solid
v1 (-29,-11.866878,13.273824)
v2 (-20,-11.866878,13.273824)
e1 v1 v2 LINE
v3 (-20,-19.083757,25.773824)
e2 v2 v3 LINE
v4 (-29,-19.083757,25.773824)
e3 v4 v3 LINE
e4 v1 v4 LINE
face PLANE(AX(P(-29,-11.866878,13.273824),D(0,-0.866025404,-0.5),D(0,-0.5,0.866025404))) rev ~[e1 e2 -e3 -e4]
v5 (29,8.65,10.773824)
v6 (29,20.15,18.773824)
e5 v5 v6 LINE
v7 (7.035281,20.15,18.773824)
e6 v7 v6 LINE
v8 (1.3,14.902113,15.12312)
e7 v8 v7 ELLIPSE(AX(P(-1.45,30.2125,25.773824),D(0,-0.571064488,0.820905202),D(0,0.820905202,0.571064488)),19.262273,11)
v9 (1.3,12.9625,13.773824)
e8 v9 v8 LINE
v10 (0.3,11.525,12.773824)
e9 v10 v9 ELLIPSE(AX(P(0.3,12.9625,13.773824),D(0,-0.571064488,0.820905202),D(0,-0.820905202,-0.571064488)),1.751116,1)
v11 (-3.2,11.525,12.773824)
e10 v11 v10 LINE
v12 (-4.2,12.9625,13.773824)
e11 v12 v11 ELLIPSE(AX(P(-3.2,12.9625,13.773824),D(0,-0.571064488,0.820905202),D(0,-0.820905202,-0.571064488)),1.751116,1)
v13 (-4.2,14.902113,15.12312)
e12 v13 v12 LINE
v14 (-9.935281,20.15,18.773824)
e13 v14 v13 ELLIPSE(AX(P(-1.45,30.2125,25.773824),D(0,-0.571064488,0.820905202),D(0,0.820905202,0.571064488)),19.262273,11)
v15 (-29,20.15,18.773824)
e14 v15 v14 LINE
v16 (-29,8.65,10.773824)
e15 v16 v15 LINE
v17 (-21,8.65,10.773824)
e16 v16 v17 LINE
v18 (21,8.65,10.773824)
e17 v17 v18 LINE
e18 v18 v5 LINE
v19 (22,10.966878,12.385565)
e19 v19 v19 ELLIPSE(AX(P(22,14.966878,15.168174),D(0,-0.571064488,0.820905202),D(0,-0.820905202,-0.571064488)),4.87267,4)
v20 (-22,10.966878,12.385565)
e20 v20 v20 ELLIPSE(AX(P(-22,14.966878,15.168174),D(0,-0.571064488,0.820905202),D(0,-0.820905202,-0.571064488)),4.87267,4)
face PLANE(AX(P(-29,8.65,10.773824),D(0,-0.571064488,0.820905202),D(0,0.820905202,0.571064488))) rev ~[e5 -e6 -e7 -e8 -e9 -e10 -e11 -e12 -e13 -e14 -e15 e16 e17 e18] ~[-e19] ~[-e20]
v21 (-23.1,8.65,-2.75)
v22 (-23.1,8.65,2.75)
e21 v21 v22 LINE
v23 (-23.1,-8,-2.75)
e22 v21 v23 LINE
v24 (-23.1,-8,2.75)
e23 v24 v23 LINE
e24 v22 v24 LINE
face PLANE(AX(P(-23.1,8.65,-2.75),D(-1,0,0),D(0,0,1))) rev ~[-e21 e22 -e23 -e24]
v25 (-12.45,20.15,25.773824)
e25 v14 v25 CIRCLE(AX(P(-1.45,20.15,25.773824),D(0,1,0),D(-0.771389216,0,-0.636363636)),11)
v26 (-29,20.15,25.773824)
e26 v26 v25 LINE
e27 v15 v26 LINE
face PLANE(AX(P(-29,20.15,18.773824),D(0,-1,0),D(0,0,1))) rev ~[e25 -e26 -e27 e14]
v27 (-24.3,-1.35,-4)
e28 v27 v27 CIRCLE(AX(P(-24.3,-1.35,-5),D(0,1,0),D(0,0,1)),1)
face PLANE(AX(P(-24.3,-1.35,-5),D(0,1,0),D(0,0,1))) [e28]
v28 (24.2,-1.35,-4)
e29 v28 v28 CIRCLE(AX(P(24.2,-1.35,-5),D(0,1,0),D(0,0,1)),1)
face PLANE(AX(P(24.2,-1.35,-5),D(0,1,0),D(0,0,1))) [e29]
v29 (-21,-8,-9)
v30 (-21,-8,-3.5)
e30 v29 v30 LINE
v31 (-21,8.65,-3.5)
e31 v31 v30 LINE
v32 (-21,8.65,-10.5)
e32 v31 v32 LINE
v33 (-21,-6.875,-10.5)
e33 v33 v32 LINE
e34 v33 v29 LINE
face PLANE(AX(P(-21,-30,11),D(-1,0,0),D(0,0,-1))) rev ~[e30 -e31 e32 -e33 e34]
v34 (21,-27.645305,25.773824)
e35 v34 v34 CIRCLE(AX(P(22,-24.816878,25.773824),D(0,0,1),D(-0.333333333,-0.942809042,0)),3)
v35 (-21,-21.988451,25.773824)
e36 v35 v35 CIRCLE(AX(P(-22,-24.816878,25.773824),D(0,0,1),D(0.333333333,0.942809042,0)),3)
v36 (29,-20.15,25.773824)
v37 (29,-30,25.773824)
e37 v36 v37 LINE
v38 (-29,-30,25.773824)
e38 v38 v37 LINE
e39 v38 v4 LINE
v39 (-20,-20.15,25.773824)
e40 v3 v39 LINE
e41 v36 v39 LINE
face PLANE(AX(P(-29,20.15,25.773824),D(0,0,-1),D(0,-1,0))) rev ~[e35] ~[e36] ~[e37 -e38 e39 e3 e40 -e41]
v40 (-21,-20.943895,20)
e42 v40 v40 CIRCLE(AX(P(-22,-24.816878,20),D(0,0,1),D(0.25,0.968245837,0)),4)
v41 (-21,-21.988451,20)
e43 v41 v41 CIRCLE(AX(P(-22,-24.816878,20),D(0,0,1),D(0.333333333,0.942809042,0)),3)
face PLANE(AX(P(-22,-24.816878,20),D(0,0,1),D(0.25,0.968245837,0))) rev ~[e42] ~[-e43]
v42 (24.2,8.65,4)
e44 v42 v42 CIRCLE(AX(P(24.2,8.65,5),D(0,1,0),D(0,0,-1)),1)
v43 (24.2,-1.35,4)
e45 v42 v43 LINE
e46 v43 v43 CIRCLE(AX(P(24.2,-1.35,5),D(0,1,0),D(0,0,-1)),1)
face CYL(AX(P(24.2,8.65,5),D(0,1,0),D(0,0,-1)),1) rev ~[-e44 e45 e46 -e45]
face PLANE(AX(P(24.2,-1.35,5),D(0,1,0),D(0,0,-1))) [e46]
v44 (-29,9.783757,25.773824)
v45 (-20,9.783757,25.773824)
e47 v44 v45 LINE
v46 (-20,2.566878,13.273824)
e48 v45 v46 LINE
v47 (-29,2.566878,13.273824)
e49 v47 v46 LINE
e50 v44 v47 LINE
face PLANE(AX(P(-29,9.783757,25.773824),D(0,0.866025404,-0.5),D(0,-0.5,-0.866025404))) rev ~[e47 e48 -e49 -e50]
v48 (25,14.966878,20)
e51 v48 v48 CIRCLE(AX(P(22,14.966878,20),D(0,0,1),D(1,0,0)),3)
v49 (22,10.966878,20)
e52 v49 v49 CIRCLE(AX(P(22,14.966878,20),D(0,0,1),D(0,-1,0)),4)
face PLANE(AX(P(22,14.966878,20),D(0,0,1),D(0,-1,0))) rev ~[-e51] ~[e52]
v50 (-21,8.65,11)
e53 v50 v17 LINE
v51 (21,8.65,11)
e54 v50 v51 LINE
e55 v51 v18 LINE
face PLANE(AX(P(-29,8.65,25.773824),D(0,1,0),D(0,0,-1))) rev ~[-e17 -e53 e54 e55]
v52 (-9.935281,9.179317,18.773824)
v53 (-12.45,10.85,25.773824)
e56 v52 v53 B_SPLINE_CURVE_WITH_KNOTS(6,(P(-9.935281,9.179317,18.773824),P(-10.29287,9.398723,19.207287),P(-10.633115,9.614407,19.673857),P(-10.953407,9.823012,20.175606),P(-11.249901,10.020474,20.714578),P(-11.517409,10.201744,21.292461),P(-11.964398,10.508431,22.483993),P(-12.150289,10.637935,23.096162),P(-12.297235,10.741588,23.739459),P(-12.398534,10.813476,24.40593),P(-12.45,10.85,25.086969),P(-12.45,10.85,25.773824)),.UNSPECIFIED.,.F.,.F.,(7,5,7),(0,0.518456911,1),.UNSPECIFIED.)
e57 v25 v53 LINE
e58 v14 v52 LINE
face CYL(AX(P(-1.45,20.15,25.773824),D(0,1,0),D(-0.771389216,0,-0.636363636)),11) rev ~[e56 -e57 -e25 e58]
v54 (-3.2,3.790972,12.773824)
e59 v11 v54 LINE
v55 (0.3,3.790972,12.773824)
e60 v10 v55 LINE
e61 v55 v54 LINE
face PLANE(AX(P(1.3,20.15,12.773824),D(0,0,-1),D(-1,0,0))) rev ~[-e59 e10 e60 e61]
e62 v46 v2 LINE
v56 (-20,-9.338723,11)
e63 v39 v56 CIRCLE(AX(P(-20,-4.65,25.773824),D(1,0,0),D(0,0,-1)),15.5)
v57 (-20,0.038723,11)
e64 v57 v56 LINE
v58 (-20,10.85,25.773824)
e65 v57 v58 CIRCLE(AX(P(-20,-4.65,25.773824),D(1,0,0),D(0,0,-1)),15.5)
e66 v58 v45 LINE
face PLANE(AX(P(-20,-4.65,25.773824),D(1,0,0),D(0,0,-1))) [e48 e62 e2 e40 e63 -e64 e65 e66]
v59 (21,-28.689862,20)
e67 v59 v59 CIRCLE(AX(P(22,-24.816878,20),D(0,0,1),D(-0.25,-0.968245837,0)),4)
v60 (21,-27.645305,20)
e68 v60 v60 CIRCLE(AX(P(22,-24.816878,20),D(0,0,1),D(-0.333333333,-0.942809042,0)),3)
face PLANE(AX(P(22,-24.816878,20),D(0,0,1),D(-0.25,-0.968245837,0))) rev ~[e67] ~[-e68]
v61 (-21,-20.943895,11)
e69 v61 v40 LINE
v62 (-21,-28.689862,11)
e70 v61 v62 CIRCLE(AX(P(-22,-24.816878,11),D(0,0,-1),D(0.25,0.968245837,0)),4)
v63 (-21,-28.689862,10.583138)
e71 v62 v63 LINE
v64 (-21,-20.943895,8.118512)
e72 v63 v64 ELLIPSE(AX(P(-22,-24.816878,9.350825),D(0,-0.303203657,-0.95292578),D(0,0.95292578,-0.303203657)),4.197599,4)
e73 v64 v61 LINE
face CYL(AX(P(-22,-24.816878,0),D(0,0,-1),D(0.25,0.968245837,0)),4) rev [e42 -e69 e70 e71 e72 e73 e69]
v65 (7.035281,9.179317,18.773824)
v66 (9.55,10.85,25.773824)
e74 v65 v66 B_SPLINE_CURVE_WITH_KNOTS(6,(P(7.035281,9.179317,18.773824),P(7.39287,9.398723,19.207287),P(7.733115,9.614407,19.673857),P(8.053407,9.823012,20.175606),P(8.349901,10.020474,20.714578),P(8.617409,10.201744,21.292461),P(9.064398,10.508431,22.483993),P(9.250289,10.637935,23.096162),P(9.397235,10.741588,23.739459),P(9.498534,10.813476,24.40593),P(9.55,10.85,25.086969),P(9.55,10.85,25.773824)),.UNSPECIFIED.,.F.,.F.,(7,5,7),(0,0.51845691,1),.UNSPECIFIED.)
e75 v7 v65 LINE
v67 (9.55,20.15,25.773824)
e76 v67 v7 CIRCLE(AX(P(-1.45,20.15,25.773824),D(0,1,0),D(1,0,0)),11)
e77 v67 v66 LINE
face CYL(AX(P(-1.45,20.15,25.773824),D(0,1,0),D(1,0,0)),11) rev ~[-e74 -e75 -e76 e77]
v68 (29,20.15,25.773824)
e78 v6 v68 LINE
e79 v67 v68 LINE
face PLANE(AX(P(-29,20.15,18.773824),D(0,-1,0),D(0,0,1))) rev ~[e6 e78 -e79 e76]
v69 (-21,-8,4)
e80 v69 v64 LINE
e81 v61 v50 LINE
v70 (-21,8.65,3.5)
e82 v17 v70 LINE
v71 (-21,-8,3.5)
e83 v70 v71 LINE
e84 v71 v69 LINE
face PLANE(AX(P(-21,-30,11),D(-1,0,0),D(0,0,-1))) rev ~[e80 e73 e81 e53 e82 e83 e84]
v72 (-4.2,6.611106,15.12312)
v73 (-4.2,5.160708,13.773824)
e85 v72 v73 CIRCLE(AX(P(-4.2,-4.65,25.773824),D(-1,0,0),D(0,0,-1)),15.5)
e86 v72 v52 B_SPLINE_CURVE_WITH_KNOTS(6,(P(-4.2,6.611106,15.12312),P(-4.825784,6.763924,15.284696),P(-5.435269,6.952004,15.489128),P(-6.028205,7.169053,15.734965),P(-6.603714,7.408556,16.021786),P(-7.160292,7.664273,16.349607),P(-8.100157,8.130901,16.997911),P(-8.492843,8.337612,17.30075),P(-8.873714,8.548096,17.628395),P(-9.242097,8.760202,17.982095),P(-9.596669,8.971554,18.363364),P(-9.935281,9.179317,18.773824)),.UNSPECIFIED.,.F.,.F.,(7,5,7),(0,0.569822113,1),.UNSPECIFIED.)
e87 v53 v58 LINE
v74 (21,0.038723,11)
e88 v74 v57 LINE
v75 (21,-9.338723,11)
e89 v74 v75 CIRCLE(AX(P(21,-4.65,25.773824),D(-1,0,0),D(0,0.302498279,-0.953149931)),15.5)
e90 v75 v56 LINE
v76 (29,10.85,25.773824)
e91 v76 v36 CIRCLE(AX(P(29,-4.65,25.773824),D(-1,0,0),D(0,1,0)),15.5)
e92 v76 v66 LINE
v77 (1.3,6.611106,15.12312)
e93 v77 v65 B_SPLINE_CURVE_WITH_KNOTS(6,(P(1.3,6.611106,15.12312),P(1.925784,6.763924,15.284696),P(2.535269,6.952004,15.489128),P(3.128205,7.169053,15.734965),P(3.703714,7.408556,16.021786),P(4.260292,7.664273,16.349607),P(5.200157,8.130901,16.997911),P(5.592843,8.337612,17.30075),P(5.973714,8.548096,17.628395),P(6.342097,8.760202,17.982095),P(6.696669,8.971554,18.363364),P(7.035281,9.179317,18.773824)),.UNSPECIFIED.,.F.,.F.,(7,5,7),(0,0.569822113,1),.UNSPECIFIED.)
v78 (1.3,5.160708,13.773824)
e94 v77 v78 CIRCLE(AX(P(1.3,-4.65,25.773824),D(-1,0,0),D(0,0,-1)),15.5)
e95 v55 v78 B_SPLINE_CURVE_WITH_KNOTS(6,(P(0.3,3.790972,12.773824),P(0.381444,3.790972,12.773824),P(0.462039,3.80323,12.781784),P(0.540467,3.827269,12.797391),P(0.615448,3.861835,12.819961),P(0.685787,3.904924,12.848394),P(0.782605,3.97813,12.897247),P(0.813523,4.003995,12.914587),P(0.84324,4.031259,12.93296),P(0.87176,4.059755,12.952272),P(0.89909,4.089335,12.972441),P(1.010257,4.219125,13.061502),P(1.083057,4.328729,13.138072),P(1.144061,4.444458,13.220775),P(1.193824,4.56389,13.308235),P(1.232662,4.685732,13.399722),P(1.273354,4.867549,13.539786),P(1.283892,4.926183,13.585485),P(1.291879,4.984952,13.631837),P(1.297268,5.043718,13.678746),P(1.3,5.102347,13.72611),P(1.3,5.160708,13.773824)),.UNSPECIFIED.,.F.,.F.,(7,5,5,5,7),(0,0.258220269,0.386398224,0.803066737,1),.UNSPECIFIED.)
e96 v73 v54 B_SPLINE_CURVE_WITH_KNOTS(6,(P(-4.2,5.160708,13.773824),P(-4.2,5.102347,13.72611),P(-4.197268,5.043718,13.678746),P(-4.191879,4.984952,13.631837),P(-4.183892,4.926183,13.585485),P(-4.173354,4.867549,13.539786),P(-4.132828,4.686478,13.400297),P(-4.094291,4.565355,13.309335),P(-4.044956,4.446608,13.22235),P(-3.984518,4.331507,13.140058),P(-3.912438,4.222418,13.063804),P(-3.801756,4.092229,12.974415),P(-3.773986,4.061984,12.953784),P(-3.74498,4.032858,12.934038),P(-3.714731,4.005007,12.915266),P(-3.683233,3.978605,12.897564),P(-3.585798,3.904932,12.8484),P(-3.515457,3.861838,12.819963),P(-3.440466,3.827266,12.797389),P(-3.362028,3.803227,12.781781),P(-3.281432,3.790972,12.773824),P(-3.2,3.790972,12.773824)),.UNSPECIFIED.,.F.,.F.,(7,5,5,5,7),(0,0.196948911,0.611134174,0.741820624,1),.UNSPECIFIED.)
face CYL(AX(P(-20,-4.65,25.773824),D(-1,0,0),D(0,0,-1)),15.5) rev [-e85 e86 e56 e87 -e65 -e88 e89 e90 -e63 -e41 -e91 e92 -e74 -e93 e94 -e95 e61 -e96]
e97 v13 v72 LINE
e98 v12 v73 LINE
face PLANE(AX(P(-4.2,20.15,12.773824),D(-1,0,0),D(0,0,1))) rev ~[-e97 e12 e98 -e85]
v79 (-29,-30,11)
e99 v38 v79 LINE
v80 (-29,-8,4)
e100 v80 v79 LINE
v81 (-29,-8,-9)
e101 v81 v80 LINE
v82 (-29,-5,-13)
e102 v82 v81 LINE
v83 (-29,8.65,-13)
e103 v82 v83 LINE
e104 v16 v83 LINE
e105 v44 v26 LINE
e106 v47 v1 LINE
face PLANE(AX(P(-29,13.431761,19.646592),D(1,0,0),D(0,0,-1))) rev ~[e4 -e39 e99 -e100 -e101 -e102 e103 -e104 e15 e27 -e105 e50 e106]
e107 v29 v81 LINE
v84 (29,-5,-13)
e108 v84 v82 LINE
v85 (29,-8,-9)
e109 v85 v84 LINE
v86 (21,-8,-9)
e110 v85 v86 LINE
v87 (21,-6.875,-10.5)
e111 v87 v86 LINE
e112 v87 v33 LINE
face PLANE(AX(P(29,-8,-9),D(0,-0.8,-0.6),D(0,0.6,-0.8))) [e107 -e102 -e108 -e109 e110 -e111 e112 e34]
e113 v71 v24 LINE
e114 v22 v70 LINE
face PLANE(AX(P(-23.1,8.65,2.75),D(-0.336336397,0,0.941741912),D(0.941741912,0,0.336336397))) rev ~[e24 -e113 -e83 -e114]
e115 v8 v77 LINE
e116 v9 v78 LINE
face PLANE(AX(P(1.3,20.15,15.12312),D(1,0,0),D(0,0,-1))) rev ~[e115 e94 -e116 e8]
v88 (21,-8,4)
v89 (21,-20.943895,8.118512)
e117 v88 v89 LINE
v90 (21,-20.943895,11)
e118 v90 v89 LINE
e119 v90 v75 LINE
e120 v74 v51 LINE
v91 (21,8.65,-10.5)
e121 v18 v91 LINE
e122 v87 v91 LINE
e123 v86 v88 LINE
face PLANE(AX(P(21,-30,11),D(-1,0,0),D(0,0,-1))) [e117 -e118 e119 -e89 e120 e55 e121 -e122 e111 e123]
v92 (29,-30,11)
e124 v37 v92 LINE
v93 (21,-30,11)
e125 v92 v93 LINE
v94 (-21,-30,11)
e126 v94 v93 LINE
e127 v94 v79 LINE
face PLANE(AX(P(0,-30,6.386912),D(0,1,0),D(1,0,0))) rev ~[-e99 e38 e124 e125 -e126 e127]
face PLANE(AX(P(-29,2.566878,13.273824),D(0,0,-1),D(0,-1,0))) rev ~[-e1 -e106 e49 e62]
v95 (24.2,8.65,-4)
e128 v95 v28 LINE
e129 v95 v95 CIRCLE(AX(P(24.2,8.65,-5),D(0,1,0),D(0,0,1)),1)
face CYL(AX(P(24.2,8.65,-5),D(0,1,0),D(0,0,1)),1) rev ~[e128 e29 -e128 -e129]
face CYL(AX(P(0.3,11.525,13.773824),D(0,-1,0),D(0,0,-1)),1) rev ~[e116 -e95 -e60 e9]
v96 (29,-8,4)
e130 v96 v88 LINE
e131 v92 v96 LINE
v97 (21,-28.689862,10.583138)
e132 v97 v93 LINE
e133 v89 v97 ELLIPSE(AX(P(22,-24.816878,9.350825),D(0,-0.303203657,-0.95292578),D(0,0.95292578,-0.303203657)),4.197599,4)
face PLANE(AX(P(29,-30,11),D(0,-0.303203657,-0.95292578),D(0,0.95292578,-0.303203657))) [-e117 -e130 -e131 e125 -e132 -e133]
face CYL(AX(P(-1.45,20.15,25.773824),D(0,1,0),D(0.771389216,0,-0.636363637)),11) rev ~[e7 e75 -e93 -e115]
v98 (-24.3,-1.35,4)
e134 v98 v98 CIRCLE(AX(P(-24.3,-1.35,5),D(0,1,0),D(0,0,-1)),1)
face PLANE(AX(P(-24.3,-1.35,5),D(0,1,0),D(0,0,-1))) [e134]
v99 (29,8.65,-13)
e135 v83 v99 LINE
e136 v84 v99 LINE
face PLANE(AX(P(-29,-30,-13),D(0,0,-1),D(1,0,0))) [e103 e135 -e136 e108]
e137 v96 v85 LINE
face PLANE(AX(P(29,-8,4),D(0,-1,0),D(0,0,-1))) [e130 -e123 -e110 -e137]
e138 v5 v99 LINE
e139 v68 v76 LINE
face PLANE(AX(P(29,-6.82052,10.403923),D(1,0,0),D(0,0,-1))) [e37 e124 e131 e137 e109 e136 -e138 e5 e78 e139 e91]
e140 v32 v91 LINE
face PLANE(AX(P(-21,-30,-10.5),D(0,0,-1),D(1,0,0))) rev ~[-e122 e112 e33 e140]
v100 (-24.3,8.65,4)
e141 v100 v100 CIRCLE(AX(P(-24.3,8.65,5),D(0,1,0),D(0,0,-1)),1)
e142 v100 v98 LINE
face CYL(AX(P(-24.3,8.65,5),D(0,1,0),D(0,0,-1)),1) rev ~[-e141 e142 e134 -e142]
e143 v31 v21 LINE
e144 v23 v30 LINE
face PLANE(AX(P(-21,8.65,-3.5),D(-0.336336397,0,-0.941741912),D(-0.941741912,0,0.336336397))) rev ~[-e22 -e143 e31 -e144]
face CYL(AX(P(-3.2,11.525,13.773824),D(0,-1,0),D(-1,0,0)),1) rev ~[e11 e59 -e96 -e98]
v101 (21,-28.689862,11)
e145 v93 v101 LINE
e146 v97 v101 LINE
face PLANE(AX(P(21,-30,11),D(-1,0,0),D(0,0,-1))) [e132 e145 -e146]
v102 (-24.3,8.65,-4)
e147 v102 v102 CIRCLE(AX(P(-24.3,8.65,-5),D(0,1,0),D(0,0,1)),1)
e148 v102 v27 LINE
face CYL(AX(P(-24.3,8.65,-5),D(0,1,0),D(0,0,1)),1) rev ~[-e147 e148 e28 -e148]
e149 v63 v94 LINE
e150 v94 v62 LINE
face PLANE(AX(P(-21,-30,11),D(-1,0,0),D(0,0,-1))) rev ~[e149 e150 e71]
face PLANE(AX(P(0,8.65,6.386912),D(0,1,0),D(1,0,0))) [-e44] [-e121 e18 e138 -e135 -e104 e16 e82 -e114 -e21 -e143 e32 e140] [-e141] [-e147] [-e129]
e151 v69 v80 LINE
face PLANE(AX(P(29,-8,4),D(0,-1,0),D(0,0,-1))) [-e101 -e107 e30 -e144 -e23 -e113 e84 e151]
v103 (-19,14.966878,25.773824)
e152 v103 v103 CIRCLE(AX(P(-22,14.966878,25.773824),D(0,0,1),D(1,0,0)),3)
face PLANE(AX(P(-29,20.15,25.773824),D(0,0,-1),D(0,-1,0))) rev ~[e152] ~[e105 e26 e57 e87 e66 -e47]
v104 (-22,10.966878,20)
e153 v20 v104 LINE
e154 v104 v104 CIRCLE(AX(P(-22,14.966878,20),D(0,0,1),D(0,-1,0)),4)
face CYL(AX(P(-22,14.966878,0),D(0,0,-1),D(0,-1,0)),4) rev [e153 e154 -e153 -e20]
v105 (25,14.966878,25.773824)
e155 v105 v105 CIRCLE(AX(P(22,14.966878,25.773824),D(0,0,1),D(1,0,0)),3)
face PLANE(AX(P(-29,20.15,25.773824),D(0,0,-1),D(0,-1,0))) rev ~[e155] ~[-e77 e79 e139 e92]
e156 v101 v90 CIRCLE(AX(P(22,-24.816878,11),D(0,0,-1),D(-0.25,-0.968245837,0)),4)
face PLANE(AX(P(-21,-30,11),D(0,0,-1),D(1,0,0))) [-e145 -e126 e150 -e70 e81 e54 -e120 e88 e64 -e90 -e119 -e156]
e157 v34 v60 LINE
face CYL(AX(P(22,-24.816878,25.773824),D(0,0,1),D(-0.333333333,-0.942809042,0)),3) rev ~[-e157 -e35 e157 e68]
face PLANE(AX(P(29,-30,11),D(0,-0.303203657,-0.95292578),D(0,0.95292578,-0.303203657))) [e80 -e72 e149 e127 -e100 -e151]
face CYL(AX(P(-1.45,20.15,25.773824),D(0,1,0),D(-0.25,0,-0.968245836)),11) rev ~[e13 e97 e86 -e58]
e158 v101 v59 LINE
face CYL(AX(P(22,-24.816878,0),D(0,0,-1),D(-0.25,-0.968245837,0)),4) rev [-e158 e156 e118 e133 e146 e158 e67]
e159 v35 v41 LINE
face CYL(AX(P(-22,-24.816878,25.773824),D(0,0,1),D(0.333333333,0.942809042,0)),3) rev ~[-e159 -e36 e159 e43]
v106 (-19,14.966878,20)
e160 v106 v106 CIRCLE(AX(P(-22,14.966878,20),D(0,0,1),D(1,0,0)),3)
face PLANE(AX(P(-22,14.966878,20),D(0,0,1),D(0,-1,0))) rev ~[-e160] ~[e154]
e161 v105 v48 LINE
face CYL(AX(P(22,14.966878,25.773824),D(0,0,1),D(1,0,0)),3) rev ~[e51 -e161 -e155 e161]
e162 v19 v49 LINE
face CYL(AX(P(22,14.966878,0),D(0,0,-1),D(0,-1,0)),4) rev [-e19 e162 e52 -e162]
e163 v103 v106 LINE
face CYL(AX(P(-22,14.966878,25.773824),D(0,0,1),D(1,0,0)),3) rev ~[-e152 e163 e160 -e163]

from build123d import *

# Parameters (mm, degrees)
SKETCH1_W               = 58
SKETCH1_H               = 38.77382393
SKETCH1_W_2             = 42
SKETCH1_H_2             = 21.5
BOSS_EXTRUDE2_DEPTH     = 38.65
CUT_EXTRUDE3_DEPTH      = 71.201780604
BOSS_EXTRUDE3_REACH     = 72.202
CUT_EXTRUDE5_DEPTH      = 71.201780604
SKETCH10_W              = 5.5
SKETCH10_H              = 7
CUT_EXTRUDE6_DEPTH      = 17
FILLET1_R               = 1
CUT_EXTRUDE7_DEPTH      = 50.043755974
CUT_EXTRUDE7_DEPTH_BACK = 20
SKETCH11_R              = 15.5
SKETCH12_R              = 3
CUT_EXTRUDE8_DEPTH      = 20
SKETCH13_R              = 4
CUT_EXTRUDE9_DEPTH      = 20
SKETCH15_R              = 1
CUT_EXTRUDE10_DEPTH     = 10
CUT_EXTRUDE11_DEPTH     = 55.764153522


with BuildPart() as part:
    # Sketch1 → Boss-Extrude2 (new body)
    with BuildSketch(Plane(origin=(0, -30, 0), x_dir=(1, 0, 0), z_dir=(0, 1, 0))):
        with Locations((0, -6.386911965)):
            Rectangle(SKETCH1_W, SKETCH1_H)
        with Locations((0, -0.25)):
            Rectangle(SKETCH1_W_2, SKETCH1_H_2, mode=Mode.SUBTRACT)
    extrude(amount=BOSS_EXTRUDE2_DEPTH)

    # Sketch6 → Cut-Extrude3 (cut, through all)
    with BuildSketch(Plane(origin=(29, 0, 0), x_dir=(0, 0, -1), z_dir=(1, 0, 0))):
        Polygon((-11, -30), (-4, -8), (9, -8), (13, -5), (13, -30), align=None)
    extrude(amount=-CUT_EXTRUDE3_DEPTH, mode=Mode.SUBTRACT)

    # Boss-Extrude3: up to this face of the body (flat: up to its plane)
    boss_extrude3_end = Plane(part.part.faces().sort_by_distance((29, -6.820520007, 10.403923083))[0])
    # Sketch9 → Boss-Extrude3 (add, up to the picked face)
    with BuildSketch(Plane.ZY.offset(29), mode=Mode.PRIVATE) as boss_extrude3_sk1:
        Polygon((10.77382393, 8.65), (18.77382393, 20.15), (25.77382393, 20.15), (25.77382393, 8.65), align=None)
    boss_extrude3_tool1 = split(extrude(boss_extrude3_sk1.sketch, amount=-BOSS_EXTRUDE3_REACH, mode=Mode.PRIVATE), bisect_by=boss_extrude3_end, keep=Keep.BOTH, mode=Mode.PRIVATE)
    add(boss_extrude3_tool1.solids().sort_by(Axis((-29, 13.70303, 20.0314), (1, 0, 0)))[0])

    # Sketch8 → Cut-Extrude5 (cut, through all)
    with BuildSketch(Plane.ZY.offset(29)):
        Polygon((25.77382393, 9.78375673), (13.27382393, 2.566878365), (13.27382393, -11.866878365), (25.77382393, -19.08375673), (38.27382393, -11.866878365), (38.27382393, 2.566878365), align=None)
    extrude(amount=-CUT_EXTRUDE5_DEPTH, mode=Mode.SUBTRACT)

    # Sketch10 → Cut-Extrude6 (cut)
    with BuildSketch(Plane(origin=(0, 20.15, 0), x_dir=(1, 0, 0), z_dir=(0, 1, 0))):
        with BuildLine():
            Line((-4.2, -12.77382393), (-4.2, -15.123119728))
            ThreePointArc((-4.2, -15.123119728), (-1.45, -14.77382393), (1.3, -15.123119728))
            Line((1.3, -15.123119728), (1.3, -12.77382393))
            Line((1.3, -12.77382393), (-4.2, -12.77382393))
        make_face()
        with BuildLine():
            Line((1.3, -18.77382393), (1.3, -25.77382393))
            Line((1.3, -25.77382393), (9.55, -25.77382393))
            ThreePointArc((9.55, -25.77382393), (8.90224843, -22.054825081), (7.035281374, -18.77382393))
            Line((7.035281374, -18.77382393), (1.3, -18.77382393))
        make_face()
        with BuildLine():
            Line((1.3, -15.123119728), (1.3, -18.77382393))
            Line((1.3, -18.77382393), (7.035281374, -18.77382393))
            ThreePointArc((7.035281374, -18.77382393), (4.456758602, -16.4942656), (1.3, -15.123119728))
        make_face()
        with BuildLine():
            Line((-4.2, -15.123119728), (-4.2, -18.77382393))
            Line((-4.2, -18.77382393), (1.3, -18.77382393))
            Line((1.3, -18.77382393), (1.3, -15.123119728))
            ThreePointArc((1.3, -15.123119728), (-1.45, -14.77382393), (-4.2, -15.123119728))
        make_face()
        with BuildLine():
            Line((-12.45, -25.77382393), (-4.2, -25.77382393))
            Line((-4.2, -25.77382393), (-4.2, -18.77382393))
            Line((-4.2, -18.77382393), (-9.935281374, -18.77382393))
            ThreePointArc((-9.935281374, -18.77382393), (-11.80224843, -22.054825081), (-12.45, -25.77382393))
        make_face()
        with Locations((-1.45, -22.27382393)):
            Rectangle(SKETCH10_W, SKETCH10_H)
        with BuildLine():
            Line((-9.935281374, -18.77382393), (-4.2, -18.77382393))
            Line((-4.2, -18.77382393), (-4.2, -15.123119728))
            ThreePointArc((-4.2, -15.123119728), (-7.356758602, -16.4942656), (-9.935281374, -18.77382393))
        make_face()
    extrude(amount=-CUT_EXTRUDE6_DEPTH, mode=Mode.SUBTRACT)

    # Fillet1
    fillet1_edges = [part.edges().sort_by_distance(p)[0] for p in [
        (1.3, 7.3375, 12.77382393),
        (-4.2, 7.3375, 12.77382393),
    ]]
    fillet(fillet1_edges, radius=FILLET1_R)

    # Sketch11 → Cut-Extrude7 (cut, two sides: drawn at the far end of the back side and taken through both)
    with BuildSketch(Plane(origin=(0, 0, 0), x_dir=(0, 0, -1), z_dir=(1, 0, 0)).offset(-CUT_EXTRUDE7_DEPTH_BACK)):
        with Locations((-25.77382393, -4.65)):
            Circle(SKETCH11_R)
    extrude(amount=CUT_EXTRUDE7_DEPTH + CUT_EXTRUDE7_DEPTH_BACK, mode=Mode.SUBTRACT)

    # Sketch12 → Cut-Extrude8 (cut)
    with BuildSketch(Plane.XY.offset(25.77382393)):
        with Locations((-22, 14.966878365)):
            Circle(SKETCH12_R)
        with Locations((22, 14.966878365)):
            Circle(SKETCH12_R)
        with Locations(Location((22, -24.816878365, 0), (0, 0, 250.528779366))):
            Circle(SKETCH12_R)
        with Locations(Location((-22, -24.816878365, 0), (0, 0, 70.528779366))):
            Circle(SKETCH12_R)
    extrude(amount=-CUT_EXTRUDE8_DEPTH, mode=Mode.SUBTRACT)

    # Sketch13 → Cut-Extrude9 (cut)
    with BuildSketch(Plane.XY):
        with Locations(Location((22, 14.966878365, 0), (0, 0, 270))):
            Circle(SKETCH13_R)
        with Locations(Location((-22, 14.966878365, 0), (0, 0, 270))):
            Circle(SKETCH13_R)
        with Locations(Location((22, -24.816878365, 0), (0, 0, 255.522487814))):
            Circle(SKETCH13_R)
        with Locations(Location((-22, -24.816878365, 0), (0, 0, 75.522487814))):
            Circle(SKETCH13_R)
    extrude(amount=CUT_EXTRUDE9_DEPTH, mode=Mode.SUBTRACT)

    # Sketch15 → Cut-Extrude10 (cut)
    with BuildSketch(Plane(origin=(0, 8.65, 0), x_dir=(1, 0, 0), z_dir=(0, 1, 0))):
        with Locations(Location((-24.3, 5, 0), (0, 0, 270))):
            Circle(SKETCH15_R)
        with Locations(Location((-24.3, -5, 0), (0, 0, 90))):
            Circle(SKETCH15_R)
        with Locations(Location((24.2, 5, 0), (0, 0, 270))):
            Circle(SKETCH15_R)
        with Locations(Location((24.2, -5, 0), (0, 0, 90))):
            Circle(SKETCH15_R)
    extrude(amount=-CUT_EXTRUDE10_DEPTH, mode=Mode.SUBTRACT)

    # Sketch17 → Cut-Extrude11 (cut, through all)
    with BuildSketch(Plane(origin=(0, 8.65, 0), x_dir=(1, 0, 0), z_dir=(0, 1, 0))):
        Polygon((-21, -3.5), (-21, 3.5), (-23.1, 2.75), (-23.1, -2.75), align=None)
    extrude(amount=-CUT_EXTRUDE11_DEPTH, mode=Mode.SUBTRACT)


solid = part.part
